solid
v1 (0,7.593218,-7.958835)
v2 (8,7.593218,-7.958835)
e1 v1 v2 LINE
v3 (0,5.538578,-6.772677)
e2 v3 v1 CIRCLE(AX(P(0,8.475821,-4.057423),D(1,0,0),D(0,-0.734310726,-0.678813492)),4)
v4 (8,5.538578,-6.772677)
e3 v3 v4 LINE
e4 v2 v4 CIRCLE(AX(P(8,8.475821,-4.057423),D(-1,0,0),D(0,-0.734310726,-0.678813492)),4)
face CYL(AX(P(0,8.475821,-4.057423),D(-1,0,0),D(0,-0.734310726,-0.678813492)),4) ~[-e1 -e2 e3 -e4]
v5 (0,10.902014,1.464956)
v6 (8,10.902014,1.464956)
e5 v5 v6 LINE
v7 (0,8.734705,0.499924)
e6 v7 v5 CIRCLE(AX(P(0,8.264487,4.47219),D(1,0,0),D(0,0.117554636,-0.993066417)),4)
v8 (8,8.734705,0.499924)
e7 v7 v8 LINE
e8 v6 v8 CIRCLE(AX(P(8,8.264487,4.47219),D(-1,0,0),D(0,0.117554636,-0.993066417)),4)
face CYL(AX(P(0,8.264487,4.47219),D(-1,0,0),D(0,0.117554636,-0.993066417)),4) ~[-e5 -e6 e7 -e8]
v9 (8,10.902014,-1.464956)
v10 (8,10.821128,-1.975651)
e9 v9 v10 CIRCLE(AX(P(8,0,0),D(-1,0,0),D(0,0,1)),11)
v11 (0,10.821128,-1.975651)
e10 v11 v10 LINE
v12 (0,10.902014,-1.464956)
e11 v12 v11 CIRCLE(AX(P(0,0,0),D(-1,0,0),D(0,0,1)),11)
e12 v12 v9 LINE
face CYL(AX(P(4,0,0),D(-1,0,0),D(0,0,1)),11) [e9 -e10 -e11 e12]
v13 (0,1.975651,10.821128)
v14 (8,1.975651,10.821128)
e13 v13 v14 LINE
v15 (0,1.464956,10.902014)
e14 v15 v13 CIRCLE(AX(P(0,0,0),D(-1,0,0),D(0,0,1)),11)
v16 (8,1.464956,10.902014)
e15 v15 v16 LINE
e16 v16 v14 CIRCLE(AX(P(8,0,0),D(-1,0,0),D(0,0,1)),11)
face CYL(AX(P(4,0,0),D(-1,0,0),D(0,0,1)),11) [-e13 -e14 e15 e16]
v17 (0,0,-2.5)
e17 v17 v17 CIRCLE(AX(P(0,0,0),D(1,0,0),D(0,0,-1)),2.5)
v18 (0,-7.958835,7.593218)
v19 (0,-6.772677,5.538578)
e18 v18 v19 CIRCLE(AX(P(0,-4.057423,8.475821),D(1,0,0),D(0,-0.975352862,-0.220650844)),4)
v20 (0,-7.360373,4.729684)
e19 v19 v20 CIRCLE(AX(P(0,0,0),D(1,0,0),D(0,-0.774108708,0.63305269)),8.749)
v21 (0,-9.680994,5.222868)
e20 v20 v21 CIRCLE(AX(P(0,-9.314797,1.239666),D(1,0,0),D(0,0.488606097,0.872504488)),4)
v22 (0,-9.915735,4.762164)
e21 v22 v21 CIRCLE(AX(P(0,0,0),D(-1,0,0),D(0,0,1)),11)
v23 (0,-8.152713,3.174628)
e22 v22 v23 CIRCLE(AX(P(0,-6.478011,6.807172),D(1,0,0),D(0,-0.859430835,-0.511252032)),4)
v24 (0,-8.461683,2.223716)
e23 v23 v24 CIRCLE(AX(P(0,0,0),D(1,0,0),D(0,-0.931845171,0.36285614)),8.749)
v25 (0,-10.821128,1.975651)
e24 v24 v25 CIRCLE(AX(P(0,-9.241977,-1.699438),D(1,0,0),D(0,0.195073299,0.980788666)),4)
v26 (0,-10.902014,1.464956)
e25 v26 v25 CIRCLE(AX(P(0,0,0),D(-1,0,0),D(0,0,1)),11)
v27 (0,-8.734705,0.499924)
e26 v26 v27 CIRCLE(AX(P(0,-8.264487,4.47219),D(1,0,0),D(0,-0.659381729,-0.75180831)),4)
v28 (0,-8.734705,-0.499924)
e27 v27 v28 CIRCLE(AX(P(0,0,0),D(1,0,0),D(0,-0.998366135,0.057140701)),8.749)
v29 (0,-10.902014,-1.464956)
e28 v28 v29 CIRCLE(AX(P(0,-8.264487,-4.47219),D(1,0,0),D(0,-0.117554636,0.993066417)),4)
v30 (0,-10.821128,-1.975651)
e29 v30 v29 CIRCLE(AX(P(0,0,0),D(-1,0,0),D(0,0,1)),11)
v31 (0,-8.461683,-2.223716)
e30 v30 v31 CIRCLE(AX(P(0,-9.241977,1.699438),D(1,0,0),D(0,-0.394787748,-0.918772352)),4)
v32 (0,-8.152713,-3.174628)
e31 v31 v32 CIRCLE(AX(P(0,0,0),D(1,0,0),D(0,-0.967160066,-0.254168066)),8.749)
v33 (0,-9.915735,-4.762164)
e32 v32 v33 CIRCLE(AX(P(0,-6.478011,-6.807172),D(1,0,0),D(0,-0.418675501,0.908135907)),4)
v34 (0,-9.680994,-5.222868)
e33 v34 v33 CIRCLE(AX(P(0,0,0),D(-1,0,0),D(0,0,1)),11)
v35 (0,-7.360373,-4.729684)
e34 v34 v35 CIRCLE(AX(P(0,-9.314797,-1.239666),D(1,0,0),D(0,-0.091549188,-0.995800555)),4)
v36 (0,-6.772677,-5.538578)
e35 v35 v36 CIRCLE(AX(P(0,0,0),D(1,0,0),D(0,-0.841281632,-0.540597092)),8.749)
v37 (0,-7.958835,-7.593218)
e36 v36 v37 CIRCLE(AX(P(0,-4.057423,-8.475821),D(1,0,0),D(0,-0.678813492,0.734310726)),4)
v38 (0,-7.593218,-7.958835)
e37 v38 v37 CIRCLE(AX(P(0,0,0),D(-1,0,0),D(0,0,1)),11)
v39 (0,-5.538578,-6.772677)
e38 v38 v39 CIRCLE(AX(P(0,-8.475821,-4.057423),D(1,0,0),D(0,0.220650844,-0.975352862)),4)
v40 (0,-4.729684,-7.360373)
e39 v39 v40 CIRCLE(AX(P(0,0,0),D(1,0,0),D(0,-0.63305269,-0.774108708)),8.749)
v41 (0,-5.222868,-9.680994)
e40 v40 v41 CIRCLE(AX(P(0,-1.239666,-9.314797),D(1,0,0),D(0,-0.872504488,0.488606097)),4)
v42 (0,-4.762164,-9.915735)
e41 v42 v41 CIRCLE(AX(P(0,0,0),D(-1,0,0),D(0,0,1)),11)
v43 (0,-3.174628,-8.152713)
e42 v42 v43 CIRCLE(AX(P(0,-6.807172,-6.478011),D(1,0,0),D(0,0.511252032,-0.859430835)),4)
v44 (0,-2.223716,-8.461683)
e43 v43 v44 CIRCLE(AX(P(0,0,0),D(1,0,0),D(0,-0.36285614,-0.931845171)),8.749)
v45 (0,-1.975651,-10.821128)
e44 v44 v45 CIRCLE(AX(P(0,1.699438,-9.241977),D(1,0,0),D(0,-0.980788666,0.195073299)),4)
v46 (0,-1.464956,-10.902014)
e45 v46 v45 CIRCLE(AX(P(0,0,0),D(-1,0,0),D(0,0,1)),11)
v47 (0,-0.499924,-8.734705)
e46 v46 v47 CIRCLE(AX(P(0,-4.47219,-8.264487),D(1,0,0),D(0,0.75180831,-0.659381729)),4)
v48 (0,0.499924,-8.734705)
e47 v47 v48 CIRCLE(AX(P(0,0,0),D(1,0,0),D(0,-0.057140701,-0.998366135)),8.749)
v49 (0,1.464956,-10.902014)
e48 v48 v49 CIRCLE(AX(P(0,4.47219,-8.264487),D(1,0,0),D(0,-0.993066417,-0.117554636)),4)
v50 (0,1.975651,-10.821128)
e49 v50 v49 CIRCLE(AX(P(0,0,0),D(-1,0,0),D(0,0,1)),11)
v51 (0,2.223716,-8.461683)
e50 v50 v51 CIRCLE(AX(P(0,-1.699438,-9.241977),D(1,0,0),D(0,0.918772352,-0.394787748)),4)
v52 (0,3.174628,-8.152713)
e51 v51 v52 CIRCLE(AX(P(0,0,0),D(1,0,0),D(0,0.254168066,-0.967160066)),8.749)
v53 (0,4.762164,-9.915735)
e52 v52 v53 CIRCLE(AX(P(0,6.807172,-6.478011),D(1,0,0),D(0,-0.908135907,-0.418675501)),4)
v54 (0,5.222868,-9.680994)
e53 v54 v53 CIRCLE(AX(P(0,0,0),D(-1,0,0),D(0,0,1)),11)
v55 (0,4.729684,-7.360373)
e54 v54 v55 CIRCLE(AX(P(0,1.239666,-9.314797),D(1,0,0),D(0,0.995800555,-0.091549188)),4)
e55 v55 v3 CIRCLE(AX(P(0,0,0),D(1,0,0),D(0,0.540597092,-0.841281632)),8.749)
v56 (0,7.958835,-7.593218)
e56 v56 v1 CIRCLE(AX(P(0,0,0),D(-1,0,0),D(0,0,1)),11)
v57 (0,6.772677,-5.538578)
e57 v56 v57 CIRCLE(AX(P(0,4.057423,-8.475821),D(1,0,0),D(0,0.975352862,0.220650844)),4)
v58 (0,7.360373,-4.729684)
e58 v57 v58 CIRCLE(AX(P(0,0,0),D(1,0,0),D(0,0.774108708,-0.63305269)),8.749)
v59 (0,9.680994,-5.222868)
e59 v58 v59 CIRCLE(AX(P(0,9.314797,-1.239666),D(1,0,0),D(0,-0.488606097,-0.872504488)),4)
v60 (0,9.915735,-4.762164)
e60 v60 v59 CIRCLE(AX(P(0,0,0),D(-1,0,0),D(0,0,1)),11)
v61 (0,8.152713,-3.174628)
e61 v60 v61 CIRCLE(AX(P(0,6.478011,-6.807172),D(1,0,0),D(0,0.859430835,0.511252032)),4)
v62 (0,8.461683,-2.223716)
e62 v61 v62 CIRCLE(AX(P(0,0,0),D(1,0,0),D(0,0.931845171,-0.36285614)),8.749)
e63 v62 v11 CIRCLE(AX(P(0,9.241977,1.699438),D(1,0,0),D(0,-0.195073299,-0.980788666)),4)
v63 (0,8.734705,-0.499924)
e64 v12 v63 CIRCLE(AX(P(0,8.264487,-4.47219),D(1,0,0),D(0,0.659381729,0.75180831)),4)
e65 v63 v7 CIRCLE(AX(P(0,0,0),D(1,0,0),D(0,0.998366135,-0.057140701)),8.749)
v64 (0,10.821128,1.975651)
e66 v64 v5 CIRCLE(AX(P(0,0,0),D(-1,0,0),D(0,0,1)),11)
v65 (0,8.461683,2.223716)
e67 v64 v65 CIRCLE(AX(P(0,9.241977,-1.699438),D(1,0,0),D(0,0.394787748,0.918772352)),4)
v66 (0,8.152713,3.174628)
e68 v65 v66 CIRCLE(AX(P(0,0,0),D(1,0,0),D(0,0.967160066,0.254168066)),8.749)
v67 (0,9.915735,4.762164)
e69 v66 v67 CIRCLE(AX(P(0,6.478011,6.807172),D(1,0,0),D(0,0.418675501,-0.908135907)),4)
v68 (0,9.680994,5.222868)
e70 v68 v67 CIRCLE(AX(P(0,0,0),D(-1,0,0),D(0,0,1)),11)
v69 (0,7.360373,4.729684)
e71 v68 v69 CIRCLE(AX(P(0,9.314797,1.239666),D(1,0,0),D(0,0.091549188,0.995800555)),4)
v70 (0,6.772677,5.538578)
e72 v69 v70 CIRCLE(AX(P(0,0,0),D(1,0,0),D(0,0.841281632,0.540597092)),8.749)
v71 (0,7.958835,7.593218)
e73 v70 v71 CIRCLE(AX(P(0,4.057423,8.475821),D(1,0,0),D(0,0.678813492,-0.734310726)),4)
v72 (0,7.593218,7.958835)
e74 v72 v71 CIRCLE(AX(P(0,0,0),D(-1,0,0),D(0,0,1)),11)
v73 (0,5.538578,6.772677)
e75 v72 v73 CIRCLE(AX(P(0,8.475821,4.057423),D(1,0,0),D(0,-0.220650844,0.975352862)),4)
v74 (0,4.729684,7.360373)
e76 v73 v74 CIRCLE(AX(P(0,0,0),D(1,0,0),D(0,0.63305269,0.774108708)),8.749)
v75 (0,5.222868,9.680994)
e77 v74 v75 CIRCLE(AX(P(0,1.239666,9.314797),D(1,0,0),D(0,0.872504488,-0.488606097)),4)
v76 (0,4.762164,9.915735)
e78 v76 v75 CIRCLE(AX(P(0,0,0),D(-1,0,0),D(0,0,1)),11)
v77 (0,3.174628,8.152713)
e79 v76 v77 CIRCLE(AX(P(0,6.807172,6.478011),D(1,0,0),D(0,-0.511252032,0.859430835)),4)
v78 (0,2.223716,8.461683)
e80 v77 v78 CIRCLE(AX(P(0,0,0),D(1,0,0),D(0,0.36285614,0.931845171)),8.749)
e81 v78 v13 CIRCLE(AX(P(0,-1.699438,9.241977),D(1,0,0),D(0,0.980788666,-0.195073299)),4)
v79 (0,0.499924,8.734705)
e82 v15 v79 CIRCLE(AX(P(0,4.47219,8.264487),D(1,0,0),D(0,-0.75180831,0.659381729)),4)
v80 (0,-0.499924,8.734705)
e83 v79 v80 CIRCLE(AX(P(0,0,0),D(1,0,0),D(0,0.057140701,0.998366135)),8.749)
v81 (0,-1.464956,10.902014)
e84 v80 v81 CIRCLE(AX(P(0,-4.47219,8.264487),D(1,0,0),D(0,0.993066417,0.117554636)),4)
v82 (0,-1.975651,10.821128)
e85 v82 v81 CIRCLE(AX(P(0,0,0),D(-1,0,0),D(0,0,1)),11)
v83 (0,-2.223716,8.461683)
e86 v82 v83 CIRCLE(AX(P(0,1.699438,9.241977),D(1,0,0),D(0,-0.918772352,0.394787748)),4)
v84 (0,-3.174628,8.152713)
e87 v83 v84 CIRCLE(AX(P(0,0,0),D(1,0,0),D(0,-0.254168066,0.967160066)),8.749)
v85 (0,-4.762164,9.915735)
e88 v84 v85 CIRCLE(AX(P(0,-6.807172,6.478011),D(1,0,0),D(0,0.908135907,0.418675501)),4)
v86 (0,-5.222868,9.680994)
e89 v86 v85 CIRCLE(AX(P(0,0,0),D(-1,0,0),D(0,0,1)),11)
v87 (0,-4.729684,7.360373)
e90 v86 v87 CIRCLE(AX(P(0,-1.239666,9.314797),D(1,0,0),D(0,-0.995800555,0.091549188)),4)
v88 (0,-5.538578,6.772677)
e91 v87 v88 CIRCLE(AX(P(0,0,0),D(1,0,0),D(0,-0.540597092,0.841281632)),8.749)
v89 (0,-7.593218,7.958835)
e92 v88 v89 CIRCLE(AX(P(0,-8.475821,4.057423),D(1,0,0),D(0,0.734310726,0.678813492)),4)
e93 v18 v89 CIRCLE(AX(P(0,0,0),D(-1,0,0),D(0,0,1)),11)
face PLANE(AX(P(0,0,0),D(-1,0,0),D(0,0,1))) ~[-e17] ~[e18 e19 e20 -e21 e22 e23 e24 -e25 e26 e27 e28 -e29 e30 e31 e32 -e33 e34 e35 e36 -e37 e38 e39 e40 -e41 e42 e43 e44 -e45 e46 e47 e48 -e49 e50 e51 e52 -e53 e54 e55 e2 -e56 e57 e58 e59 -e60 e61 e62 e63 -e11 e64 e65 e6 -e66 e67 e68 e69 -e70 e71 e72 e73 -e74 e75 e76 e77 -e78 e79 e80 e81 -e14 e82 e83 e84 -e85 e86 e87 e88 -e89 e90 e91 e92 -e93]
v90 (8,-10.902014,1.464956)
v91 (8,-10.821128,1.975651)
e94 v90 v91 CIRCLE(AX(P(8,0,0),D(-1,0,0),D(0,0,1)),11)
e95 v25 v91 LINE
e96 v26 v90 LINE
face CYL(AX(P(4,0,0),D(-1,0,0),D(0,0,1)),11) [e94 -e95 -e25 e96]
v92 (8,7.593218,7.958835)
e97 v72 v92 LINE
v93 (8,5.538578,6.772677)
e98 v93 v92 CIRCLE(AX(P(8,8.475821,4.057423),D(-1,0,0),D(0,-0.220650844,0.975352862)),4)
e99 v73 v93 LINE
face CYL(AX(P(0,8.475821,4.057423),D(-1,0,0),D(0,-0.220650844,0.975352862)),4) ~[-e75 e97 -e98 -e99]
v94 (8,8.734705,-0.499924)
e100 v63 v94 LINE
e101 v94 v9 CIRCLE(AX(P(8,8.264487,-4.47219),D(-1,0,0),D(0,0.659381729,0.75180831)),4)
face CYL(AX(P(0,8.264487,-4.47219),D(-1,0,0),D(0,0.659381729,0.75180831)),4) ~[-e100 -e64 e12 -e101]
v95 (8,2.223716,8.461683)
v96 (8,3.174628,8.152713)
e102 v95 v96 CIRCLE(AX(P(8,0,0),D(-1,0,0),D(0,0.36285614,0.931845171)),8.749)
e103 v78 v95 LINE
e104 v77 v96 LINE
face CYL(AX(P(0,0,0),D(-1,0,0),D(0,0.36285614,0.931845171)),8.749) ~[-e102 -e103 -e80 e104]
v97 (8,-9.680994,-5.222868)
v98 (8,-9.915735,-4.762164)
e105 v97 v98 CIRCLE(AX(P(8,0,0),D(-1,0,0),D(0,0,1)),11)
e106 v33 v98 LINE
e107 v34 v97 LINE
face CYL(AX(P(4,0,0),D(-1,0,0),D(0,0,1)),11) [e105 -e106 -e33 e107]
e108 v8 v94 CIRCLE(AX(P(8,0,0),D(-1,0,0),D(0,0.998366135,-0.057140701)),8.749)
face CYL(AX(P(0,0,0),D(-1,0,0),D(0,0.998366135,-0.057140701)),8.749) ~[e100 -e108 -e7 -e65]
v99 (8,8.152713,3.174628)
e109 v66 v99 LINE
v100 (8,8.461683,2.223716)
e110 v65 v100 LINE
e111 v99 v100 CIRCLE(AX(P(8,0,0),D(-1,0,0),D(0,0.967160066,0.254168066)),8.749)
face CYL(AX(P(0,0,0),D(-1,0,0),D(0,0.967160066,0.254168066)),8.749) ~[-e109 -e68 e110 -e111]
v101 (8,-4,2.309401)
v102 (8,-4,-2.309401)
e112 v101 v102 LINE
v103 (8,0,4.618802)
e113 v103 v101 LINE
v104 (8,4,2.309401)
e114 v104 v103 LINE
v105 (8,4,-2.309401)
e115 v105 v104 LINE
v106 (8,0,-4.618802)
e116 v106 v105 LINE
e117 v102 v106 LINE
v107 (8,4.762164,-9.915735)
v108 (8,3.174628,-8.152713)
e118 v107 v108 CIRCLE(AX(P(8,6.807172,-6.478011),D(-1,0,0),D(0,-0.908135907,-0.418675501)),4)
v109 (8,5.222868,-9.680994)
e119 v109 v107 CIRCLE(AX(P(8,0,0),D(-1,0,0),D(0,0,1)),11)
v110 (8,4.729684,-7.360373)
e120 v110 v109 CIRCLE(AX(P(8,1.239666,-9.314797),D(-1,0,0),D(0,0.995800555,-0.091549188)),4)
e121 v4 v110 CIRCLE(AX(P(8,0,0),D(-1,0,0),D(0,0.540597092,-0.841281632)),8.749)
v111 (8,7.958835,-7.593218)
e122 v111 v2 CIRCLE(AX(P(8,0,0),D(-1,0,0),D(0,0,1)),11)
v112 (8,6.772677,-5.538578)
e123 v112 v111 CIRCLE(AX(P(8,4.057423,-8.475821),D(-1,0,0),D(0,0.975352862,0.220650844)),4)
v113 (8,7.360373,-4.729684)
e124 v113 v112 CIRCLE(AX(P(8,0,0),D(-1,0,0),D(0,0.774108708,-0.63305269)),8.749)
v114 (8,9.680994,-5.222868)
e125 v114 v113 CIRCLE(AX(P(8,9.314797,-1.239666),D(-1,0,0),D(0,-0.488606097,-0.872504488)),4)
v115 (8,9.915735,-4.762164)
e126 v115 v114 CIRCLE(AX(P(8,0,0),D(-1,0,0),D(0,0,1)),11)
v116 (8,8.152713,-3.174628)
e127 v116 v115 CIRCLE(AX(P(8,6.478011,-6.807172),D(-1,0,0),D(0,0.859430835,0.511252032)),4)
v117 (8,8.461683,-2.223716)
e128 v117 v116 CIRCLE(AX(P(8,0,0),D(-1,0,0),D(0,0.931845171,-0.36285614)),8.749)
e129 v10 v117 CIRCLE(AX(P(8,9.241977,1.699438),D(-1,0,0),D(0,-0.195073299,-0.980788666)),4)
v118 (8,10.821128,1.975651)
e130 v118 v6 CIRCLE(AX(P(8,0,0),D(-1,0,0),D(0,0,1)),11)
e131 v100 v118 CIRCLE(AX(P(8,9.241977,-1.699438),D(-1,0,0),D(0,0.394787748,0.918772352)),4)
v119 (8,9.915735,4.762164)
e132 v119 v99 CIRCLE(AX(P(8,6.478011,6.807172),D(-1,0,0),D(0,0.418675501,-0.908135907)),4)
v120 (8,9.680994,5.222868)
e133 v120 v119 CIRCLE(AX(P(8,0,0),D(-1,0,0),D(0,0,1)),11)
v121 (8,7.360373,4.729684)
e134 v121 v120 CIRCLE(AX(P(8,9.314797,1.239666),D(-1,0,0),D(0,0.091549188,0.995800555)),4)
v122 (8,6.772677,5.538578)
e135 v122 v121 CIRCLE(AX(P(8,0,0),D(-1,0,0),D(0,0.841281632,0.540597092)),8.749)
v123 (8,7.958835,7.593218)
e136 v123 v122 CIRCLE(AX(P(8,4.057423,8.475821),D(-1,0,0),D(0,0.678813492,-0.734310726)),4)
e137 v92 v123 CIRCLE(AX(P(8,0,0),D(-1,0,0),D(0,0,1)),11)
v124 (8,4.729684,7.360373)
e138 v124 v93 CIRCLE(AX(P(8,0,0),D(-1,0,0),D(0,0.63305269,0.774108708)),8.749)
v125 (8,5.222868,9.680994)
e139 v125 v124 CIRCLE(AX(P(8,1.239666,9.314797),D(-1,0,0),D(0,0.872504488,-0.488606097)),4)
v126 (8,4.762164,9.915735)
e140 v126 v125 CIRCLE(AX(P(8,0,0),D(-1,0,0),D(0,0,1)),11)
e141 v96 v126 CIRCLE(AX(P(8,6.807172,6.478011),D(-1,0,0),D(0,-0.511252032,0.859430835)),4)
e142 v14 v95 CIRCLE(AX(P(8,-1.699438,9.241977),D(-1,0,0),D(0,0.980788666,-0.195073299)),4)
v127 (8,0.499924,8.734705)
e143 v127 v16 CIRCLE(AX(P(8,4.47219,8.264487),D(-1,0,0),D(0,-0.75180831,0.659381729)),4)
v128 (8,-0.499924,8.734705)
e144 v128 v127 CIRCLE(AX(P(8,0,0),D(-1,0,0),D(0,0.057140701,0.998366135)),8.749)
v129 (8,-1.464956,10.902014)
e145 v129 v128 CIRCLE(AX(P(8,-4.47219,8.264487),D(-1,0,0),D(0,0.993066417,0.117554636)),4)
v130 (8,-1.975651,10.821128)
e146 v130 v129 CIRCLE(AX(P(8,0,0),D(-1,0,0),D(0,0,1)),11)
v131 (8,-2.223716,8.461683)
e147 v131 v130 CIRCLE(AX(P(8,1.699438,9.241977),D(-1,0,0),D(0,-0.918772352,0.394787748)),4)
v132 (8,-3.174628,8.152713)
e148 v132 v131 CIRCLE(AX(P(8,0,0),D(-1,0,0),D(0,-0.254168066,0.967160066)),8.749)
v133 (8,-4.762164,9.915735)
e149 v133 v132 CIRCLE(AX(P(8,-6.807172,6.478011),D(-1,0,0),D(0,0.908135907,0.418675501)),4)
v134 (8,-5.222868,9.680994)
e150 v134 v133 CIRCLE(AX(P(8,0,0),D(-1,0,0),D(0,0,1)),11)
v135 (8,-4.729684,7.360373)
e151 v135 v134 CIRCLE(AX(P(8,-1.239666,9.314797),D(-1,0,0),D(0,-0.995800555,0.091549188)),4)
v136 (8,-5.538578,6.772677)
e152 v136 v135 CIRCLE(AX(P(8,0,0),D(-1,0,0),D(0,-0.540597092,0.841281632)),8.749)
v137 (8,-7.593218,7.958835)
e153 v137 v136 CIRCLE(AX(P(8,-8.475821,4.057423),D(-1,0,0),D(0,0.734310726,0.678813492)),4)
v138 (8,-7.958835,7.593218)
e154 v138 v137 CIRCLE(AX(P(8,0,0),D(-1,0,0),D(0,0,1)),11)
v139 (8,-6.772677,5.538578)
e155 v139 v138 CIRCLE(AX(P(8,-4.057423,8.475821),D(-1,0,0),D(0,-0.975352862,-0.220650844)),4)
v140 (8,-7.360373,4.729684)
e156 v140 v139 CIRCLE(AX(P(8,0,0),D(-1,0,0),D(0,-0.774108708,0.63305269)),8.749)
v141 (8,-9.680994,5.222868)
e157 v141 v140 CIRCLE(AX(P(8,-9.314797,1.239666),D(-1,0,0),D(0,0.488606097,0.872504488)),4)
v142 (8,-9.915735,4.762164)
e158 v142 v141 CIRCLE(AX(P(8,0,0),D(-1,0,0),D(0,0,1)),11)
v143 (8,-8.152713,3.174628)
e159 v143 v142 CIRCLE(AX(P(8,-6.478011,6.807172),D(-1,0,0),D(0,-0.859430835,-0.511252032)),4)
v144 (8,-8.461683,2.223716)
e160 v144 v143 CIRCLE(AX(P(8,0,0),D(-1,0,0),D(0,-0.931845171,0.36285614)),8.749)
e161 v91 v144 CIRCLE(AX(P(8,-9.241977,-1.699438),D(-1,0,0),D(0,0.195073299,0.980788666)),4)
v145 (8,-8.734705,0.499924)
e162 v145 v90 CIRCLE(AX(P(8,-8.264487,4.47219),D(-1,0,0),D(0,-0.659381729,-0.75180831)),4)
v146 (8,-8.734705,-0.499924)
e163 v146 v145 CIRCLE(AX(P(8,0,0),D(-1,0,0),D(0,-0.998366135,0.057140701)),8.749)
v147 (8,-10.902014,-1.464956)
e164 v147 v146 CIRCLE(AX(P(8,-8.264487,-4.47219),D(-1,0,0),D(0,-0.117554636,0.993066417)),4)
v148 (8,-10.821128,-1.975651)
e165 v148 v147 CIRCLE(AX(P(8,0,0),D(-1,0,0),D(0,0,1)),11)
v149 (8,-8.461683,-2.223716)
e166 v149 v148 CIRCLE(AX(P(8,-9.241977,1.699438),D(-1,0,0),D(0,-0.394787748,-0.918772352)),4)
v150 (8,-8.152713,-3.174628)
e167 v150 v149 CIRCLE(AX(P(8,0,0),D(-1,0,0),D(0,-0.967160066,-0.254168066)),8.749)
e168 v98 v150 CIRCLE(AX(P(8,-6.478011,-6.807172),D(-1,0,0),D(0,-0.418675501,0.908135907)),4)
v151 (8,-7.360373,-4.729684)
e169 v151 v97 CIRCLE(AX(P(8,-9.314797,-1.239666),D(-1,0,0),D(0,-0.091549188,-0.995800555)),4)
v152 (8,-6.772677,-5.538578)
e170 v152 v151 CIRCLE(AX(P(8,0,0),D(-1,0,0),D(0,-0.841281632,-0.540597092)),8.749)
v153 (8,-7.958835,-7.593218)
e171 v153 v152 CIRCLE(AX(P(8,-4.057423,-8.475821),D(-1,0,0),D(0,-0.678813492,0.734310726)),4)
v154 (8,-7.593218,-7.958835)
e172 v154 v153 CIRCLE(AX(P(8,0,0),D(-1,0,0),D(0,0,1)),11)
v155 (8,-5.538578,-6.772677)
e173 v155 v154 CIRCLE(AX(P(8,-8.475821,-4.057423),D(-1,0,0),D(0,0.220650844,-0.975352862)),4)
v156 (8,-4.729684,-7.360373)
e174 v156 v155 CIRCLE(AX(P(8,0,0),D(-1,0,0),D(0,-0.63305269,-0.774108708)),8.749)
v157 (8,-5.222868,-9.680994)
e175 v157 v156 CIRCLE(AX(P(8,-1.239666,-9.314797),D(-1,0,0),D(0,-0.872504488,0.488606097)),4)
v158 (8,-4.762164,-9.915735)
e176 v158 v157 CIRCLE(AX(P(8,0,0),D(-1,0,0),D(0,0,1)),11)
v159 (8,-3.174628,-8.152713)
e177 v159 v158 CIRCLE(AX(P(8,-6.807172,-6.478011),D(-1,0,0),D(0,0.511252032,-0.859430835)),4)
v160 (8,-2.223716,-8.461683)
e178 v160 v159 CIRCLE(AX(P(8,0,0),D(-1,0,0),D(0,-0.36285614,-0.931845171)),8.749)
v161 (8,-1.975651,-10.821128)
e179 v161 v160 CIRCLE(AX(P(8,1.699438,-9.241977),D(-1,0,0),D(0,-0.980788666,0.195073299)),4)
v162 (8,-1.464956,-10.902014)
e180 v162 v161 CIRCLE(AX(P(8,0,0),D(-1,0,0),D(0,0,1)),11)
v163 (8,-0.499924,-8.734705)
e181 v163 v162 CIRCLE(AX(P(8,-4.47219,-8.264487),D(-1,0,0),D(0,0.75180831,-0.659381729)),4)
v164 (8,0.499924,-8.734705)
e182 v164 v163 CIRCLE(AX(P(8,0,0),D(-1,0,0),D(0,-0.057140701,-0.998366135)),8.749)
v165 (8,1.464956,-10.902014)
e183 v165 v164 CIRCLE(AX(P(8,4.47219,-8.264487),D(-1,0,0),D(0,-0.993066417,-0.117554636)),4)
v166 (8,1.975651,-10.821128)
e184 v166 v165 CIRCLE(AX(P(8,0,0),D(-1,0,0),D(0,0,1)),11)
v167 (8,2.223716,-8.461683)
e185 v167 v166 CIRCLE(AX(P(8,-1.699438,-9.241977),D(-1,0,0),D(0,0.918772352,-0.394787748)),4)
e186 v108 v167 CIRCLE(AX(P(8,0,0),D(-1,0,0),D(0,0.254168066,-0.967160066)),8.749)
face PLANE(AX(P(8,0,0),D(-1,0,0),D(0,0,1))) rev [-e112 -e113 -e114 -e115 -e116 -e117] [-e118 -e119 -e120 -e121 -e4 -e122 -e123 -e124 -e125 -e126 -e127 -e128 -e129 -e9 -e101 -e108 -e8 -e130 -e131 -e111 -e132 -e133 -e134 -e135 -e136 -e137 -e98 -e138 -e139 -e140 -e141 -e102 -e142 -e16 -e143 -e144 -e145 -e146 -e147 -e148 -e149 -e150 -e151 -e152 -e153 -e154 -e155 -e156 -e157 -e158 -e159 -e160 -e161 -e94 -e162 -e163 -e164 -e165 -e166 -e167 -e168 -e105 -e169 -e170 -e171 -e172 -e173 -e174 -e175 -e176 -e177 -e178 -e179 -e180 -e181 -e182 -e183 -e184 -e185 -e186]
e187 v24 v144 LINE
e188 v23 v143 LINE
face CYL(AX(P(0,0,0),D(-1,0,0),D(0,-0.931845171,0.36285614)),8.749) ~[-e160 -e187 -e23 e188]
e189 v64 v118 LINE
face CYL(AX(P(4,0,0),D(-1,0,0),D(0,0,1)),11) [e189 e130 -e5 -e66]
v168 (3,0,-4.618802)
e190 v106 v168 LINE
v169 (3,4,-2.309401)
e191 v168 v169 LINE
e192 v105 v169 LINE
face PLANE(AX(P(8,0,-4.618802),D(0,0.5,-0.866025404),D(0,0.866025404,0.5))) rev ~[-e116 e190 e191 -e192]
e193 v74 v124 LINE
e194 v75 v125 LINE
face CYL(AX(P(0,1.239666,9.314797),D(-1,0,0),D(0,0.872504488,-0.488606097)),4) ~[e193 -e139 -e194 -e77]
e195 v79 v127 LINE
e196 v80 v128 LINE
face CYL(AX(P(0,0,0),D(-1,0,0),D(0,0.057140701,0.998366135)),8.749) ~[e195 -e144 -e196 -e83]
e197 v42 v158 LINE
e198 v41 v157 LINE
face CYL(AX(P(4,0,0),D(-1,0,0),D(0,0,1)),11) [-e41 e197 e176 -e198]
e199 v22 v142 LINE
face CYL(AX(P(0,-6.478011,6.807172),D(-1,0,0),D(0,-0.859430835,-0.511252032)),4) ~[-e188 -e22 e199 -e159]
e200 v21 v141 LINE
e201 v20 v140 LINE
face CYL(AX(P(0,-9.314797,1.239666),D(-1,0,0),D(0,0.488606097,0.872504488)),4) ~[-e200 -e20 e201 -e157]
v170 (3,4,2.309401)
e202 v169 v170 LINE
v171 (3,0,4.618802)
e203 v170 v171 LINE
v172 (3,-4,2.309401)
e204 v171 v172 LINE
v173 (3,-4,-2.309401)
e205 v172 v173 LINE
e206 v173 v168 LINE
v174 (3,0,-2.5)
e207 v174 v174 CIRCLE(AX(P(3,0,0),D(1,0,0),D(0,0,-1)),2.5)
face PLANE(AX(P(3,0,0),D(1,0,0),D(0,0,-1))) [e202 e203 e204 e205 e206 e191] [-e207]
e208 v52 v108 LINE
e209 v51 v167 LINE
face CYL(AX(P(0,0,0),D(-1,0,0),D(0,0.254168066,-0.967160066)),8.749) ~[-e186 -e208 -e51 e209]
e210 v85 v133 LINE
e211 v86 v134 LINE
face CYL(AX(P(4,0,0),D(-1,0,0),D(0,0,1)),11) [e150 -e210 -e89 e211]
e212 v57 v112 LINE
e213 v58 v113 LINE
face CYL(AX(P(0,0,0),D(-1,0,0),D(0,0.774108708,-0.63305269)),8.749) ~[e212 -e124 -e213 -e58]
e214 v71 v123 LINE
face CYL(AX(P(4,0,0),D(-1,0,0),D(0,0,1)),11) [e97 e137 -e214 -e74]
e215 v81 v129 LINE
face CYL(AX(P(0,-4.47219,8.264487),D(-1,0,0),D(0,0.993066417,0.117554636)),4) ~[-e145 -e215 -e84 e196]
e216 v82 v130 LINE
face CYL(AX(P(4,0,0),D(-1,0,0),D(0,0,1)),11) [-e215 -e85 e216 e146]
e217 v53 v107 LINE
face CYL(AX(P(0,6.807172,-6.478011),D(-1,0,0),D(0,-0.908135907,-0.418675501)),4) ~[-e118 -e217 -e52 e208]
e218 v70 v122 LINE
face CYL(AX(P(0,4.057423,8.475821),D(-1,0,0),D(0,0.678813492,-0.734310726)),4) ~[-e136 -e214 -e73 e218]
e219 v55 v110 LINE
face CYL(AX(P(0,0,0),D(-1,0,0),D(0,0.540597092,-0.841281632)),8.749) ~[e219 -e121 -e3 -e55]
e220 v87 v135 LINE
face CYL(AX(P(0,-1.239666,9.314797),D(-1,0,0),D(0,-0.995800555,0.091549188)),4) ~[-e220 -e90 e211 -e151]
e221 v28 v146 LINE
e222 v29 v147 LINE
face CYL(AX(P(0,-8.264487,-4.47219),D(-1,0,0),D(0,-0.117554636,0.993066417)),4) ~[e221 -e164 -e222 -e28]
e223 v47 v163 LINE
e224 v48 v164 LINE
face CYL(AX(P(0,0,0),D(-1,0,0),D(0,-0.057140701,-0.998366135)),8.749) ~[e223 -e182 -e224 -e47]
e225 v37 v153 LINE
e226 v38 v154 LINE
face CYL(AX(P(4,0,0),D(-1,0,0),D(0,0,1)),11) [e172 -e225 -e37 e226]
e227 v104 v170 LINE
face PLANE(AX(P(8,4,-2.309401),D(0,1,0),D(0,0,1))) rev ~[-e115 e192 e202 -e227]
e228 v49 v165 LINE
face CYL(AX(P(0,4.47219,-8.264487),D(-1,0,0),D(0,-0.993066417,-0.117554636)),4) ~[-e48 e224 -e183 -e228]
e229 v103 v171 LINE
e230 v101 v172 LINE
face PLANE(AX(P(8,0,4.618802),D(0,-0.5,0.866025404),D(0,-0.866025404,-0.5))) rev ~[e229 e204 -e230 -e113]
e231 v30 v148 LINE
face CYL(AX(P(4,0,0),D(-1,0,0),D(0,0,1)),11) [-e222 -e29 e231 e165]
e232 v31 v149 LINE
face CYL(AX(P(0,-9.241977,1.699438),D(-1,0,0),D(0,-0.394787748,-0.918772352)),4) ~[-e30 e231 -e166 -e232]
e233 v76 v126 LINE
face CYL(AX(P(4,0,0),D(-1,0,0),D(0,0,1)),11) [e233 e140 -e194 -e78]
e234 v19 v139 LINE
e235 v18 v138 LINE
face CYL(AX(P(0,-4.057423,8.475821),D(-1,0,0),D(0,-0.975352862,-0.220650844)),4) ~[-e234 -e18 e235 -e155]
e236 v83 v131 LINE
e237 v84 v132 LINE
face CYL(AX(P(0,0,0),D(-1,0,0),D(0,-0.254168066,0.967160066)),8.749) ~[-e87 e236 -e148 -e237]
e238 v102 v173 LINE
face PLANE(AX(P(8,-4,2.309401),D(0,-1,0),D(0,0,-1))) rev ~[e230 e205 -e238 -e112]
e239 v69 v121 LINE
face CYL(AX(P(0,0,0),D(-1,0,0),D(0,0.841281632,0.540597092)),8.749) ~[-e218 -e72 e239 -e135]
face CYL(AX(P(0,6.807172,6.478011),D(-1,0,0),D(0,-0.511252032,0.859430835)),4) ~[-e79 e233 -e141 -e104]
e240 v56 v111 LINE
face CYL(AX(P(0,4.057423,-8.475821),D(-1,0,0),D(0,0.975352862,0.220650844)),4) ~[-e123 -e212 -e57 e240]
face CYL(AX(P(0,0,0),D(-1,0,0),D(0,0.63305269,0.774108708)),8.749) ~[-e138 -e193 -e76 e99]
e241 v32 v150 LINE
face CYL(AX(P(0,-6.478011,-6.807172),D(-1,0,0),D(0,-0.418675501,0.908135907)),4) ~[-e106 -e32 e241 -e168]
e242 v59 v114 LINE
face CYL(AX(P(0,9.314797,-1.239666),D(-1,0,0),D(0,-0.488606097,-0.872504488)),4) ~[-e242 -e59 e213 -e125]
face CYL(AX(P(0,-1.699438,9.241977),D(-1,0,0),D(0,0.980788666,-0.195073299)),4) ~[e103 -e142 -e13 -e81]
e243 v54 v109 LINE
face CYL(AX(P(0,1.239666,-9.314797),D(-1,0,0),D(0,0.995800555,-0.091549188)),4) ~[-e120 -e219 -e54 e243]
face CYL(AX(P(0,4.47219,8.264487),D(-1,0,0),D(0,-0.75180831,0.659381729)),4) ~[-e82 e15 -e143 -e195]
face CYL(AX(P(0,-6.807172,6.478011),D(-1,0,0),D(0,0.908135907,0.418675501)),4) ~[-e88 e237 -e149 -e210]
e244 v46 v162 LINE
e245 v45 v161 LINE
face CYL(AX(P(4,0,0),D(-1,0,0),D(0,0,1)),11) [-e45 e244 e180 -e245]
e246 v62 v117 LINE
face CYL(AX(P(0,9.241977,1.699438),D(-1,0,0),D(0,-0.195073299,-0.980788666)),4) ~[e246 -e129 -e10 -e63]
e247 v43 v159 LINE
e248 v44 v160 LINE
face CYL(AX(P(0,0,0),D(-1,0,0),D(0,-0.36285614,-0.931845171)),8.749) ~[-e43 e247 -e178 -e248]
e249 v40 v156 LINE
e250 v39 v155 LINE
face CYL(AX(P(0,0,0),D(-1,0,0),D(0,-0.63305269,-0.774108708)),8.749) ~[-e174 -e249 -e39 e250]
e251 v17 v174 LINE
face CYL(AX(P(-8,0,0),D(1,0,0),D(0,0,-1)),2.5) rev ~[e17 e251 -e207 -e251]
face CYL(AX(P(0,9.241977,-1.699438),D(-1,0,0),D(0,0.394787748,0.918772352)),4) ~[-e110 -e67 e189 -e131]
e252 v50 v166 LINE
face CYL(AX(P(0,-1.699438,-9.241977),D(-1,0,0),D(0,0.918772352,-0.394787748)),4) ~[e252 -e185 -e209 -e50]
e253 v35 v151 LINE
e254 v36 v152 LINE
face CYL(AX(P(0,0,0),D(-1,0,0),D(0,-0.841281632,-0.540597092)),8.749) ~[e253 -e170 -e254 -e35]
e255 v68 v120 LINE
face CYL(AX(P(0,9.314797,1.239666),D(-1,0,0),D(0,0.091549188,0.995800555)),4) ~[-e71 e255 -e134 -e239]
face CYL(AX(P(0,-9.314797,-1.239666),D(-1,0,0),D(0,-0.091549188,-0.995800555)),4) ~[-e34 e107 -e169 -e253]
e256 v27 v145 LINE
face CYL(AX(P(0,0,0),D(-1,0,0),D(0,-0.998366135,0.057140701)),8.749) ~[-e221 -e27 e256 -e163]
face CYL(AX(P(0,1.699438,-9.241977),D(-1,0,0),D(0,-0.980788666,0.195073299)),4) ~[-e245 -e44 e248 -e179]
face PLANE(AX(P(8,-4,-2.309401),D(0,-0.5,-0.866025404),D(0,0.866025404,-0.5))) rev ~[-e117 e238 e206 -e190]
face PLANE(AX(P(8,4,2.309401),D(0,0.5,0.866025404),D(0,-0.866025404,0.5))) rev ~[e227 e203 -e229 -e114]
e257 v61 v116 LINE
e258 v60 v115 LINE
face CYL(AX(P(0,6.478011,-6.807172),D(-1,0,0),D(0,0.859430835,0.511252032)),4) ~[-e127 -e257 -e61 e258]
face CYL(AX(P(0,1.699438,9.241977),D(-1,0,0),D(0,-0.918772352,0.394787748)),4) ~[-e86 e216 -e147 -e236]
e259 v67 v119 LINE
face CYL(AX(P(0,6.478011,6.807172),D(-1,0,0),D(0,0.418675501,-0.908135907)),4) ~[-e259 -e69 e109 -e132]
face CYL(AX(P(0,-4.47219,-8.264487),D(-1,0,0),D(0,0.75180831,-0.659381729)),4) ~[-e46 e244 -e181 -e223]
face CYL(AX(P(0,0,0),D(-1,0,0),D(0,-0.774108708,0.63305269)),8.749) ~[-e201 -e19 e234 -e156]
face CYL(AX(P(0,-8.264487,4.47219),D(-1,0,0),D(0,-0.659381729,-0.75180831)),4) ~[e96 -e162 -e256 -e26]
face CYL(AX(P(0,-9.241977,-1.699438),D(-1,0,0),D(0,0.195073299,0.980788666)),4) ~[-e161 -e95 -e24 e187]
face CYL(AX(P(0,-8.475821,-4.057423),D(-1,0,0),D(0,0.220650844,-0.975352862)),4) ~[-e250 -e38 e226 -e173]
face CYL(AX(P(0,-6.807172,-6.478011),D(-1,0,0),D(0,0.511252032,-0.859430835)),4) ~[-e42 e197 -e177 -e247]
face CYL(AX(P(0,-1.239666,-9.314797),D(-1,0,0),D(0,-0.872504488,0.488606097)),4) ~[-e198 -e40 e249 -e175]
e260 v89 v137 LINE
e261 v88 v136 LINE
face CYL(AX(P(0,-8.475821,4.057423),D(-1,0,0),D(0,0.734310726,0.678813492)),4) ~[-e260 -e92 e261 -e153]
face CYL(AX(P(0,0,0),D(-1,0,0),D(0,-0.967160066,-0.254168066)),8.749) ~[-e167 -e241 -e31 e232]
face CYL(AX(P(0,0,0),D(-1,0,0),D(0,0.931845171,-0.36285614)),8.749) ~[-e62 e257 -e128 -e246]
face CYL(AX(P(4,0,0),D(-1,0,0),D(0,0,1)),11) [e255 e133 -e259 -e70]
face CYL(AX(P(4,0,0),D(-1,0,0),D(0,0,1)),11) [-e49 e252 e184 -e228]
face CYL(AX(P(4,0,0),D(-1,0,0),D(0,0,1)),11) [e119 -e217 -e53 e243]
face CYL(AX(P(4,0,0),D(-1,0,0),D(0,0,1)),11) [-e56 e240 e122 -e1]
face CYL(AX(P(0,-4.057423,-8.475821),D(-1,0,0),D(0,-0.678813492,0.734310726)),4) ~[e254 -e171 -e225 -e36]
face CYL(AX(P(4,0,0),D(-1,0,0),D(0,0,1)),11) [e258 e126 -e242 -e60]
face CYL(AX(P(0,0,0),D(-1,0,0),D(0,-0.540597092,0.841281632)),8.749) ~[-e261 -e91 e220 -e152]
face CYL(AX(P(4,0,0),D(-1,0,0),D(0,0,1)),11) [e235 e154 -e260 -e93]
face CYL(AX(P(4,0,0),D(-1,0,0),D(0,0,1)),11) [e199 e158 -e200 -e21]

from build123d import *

# Parameters (mm, degrees)
SKETCH_1_W                = 8
SKETCH_1_H                = 11
CUT_EXTRUDE_1_DEPTH       = 18.492855685
CUT_EXTRUDE_2_DEPTH       = 18.492855685
CUT_EXTRUDE_3_DEPTH       = 18.492855685
CUT_EXTRUDE_4_DEPTH       = 18.492855685
CUT_EXTRUDE_5_DEPTH       = 18.492855685
CUT_EXTRUDE_6_DEPTH       = 18.492855685
CUT_EXTRUDE_7_DEPTH       = 18.492855685
CUT_EXTRUDE_8_DEPTH       = 18.492855685
CUT_EXTRUDE_9_DEPTH       = 18.492855685
CUT_EXTRUDE_10_DEPTH      = 18.492855685
CUT_EXTRUDE_11_DEPTH      = 18.492855685
CUT_EXTRUDE_12_DEPTH      = 18.431405642
CUT_EXTRUDE_13_DEPTH      = 18.431405642
CUT_EXTRUDE_14_DEPTH      = 18.431405642
CUT_EXTRUDE_15_DEPTH      = 18.431405642
CUT_EXTRUDE_16_DEPTH      = 18.431405642
CUT_EXTRUDE_17_DEPTH      = 18.369738204
CUT_EXTRUDE_18_DEPTH      = 18.369738204
CUT_EXTRUDE_19_DEPTH      = 18.369738204
CUT_EXTRUDE_20_DEPTH      = 18.369738204
CUT_EXTRUDE_21_DEPTH      = 5
HOLE_WIZARD_5_0_5_1_D     = 5
HOLE_WIZARD_5_0_5_1_DEPTH = 8


with BuildPart() as part:
    # 草圖1 → 旋轉1 (revolve)
    with BuildSketch(Plane(origin=(0, 0, 0), x_dir=(-1, 0, 0), z_dir=(0, 0, -1)), mode=Mode.PRIVATE) as revolve_1_sk:
        with Locations((-4, 5.5)):
            Rectangle(SKETCH_1_W, SKETCH_1_H)
    revolve(revolve_1_sk.sketch.rotate(Axis((8, 0, 0), (-1, 0, 0)), 270), axis=Axis((8, 0, 0), (-1, 0, 0)))

    # 草圖2 → 除料-伸長1 (cut, through all)
    with BuildSketch(Plane.ZY):
        with BuildLine():
            ThreePointArc((10.902013697, -1.464956435), (11, 0), (10.902013697, 1.464956435))
            ThreePointArc((10.902013697, 1.464956435), (9.891552344, 0.818060825), (8.734705318, 0.499924007))
            ThreePointArc((8.734705318, 0.499924007), (8.749, 0), (8.734705318, -0.499924007))
            ThreePointArc((8.734705318, -0.499924007), (9.891552344, -0.818060825), (10.902013697, -1.464956435))
        make_face()
    extrude(amount=-CUT_EXTRUDE_1_DEPTH, mode=Mode.SUBTRACT)

    # 草圖3 → 除料-伸長2 (cut, through all)
    with BuildSketch(Plane.ZY):
        with BuildLine():
            ThreePointArc((9.915734733, -4.762163869), (10.461621679, -3.399186938), (10.821127601, -1.975651141))
            ThreePointArc((10.821127601, -1.975651141), (9.66022001, -2.278635697), (8.461683425, -2.223716399))
            ThreePointArc((8.461683425, -2.223716399), (8.320793461, -2.703589684), (8.152713396, -3.174628369))
            ThreePointArc((8.152713396, -3.174628369), (9.154630615, -3.834679853), (9.915734733, -4.762163869))
        make_face()
    extrude(amount=-CUT_EXTRUDE_2_DEPTH, mode=Mode.SUBTRACT)

    # 草圖4 → 除料-伸長3 (cut, through all)
    with BuildSketch(Plane.ZY):
        with BuildLine():
            ThreePointArc((7.958834566, -7.593217523), (8.899186938, -6.465637775), (9.680994141, -5.222868219))
            ThreePointArc((9.680994141, -5.222868219), (8.483278035, -5.15228348), (7.360373002, -4.729683951))
            ThreePointArc((7.360373002, -4.729683951), (7.078089684, -5.142533172), (6.772677084, -5.538577987))
            ThreePointArc((6.772677084, -5.538577987), (7.521589858, -6.4759337), (7.958834566, -7.593217523))
        make_face()
    extrude(amount=-CUT_EXTRUDE_3_DEPTH, mode=Mode.SUBTRACT)

    # 草圖5 → 除料-伸長4 (cut, through all)
    with BuildSketch(Plane.ZY):
        with BuildLine():
            ThreePointArc((5.222868219, -9.680994141), (6.465637775, -8.899186938), (7.593217523, -7.958834566))
            ThreePointArc((7.593217523, -7.958834566), (6.4759337, -7.521589858), (5.538577987, -6.772677084))
            ThreePointArc((5.538577987, -6.772677084), (5.142533172, -7.078089684), (4.729683951, -7.360373002))
            ThreePointArc((4.729683951, -7.360373002), (5.15228348, -8.483278035), (5.222868219, -9.680994141))
        make_face()
    extrude(amount=-CUT_EXTRUDE_4_DEPTH, mode=Mode.SUBTRACT)

    # 草圖6 → 除料-伸長5 (cut, through all)
    with BuildSketch(Plane.ZY):
        with BuildLine():
            ThreePointArc((1.975651141, -10.821127601), (3.399186938, -10.461621679), (4.762163869, -9.915734733))
            ThreePointArc((4.762163869, -9.915734733), (3.834679853, -9.154630615), (3.174628369, -8.152713396))
            ThreePointArc((3.174628369, -8.152713396), (2.703589684, -8.320793461), (2.223716399, -8.461683425))
            ThreePointArc((2.223716399, -8.461683425), (2.278635697, -9.66022001), (1.975651141, -10.821127601))
        make_face()
    extrude(amount=-CUT_EXTRUDE_5_DEPTH, mode=Mode.SUBTRACT)

    # 草圖7 → 除料-伸長6 (cut, through all)
    with BuildSketch(Plane.ZY):
        with BuildLine():
            ThreePointArc((-1.464956435, -10.902013697), (0, -11), (1.464956435, -10.902013697))
            ThreePointArc((1.464956435, -10.902013697), (0.818060825, -9.891552344), (0.499924007, -8.734705318))
            ThreePointArc((0.499924007, -8.734705318), (0, -8.749), (-0.499924007, -8.734705318))
            ThreePointArc((-0.499924007, -8.734705318), (-0.818060825, -9.891552344), (-1.464956435, -10.902013697))
        make_face()
    extrude(amount=-CUT_EXTRUDE_6_DEPTH, mode=Mode.SUBTRACT)

    # 草圖8 → 除料-伸長7 (cut, through all)
    with BuildSketch(Plane.ZY):
        with BuildLine():
            ThreePointArc((-4.762163869, -9.915734733), (-3.399186938, -10.461621679), (-1.975651141, -10.821127601))
            ThreePointArc((-1.975651141, -10.821127601), (-2.278635697, -9.66022001), (-2.223716399, -8.461683425))
            ThreePointArc((-2.223716399, -8.461683425), (-2.703589684, -8.320793461), (-3.174628369, -8.152713396))
            ThreePointArc((-3.174628369, -8.152713396), (-3.834679853, -9.154630615), (-4.762163869, -9.915734733))
        make_face()
    extrude(amount=-CUT_EXTRUDE_7_DEPTH, mode=Mode.SUBTRACT)

    # 草圖9 → 除料-伸長8 (cut, through all)
    with BuildSketch(Plane.ZY):
        with BuildLine():
            ThreePointArc((-7.593217523, -7.958834566), (-6.465637775, -8.899186938), (-5.222868219, -9.680994141))
            ThreePointArc((-5.222868219, -9.680994141), (-5.15228348, -8.483278035), (-4.729683951, -7.360373002))
            ThreePointArc((-4.729683951, -7.360373002), (-5.142533172, -7.078089684), (-5.538577987, -6.772677084))
            ThreePointArc((-5.538577987, -6.772677084), (-6.4759337, -7.521589858), (-7.593217523, -7.958834566))
        make_face()
    extrude(amount=-CUT_EXTRUDE_8_DEPTH, mode=Mode.SUBTRACT)

    # 草圖10 → 除料-伸長9 (cut, through all)
    with BuildSketch(Plane.ZY):
        with BuildLine():
            ThreePointArc((-9.680994141, -5.222868219), (-8.899186938, -6.465637775), (-7.958834566, -7.593217523))
            ThreePointArc((-7.958834566, -7.593217523), (-7.521589858, -6.4759337), (-6.772677084, -5.538577987))
            ThreePointArc((-6.772677084, -5.538577987), (-7.078089684, -5.142533172), (-7.360373002, -4.729683951))
            ThreePointArc((-7.360373002, -4.729683951), (-8.483278035, -5.15228348), (-9.680994141, -5.222868219))
        make_face()
    extrude(amount=-CUT_EXTRUDE_9_DEPTH, mode=Mode.SUBTRACT)

    # 草圖11 → 除料-伸長10 (cut, through all)
    with BuildSketch(Plane.ZY):
        with BuildLine():
            ThreePointArc((-10.821127601, -1.975651141), (-10.461621679, -3.399186938), (-9.915734733, -4.762163869))
            ThreePointArc((-9.915734733, -4.762163869), (-9.154630615, -3.834679853), (-8.152713396, -3.174628369))
            ThreePointArc((-8.152713396, -3.174628369), (-8.320793461, -2.703589684), (-8.461683425, -2.223716399))
            ThreePointArc((-8.461683425, -2.223716399), (-9.66022001, -2.278635697), (-10.821127601, -1.975651141))
        make_face()
    extrude(amount=-CUT_EXTRUDE_10_DEPTH, mode=Mode.SUBTRACT)

    # 草圖12 → 除料-伸長11 (cut, through all)
    with BuildSketch(Plane.ZY):
        with BuildLine():
            ThreePointArc((-10.902013697, 1.464956435), (-11, 0), (-10.902013697, -1.464956435))
            ThreePointArc((-10.902013697, -1.464956435), (-9.891552344, -0.818060825), (-8.734705318, -0.499924007))
            ThreePointArc((-8.734705318, -0.499924007), (-8.749, 0), (-8.734705318, 0.499924007))
            ThreePointArc((-8.734705318, 0.499924007), (-9.891552344, 0.818060825), (-10.902013697, 1.464956435))
        make_face()
    extrude(amount=-CUT_EXTRUDE_11_DEPTH, mode=Mode.SUBTRACT)

    # 草圖13 → 除料-伸長12 (cut, through all)
    with BuildSketch(Plane.ZY):
        with BuildLine():
            ThreePointArc((-9.915734733, 4.762163869), (-10.461621679, 3.399186938), (-10.821127601, 1.975651141))
            ThreePointArc((-10.821127601, 1.975651141), (-9.66022001, 2.278635697), (-8.461683425, 2.223716399))
            ThreePointArc((-8.461683425, 2.223716399), (-8.320793461, 2.703589684), (-8.152713396, 3.174628369))
            ThreePointArc((-8.152713396, 3.174628369), (-9.154630615, 3.834679853), (-9.915734733, 4.762163869))
        make_face()
    extrude(amount=-CUT_EXTRUDE_12_DEPTH, mode=Mode.SUBTRACT)

    # 草圖14 → 除料-伸長13 (cut, through all)
    with BuildSketch(Plane.ZY):
        with BuildLine():
            ThreePointArc((-7.958834566, 7.593217523), (-8.899186938, 6.465637775), (-9.680994141, 5.222868219))
            ThreePointArc((-9.680994141, 5.222868219), (-8.483278035, 5.15228348), (-7.360373002, 4.729683951))
            ThreePointArc((-7.360373002, 4.729683951), (-7.078089684, 5.142533172), (-6.772677084, 5.538577987))
            ThreePointArc((-6.772677084, 5.538577987), (-7.521589858, 6.4759337), (-7.958834566, 7.593217523))
        make_face()
    extrude(amount=-CUT_EXTRUDE_13_DEPTH, mode=Mode.SUBTRACT)

    # 草圖15 → 除料-伸長14 (cut, through all)
    with BuildSketch(Plane.ZY):
        with BuildLine():
            ThreePointArc((-5.222868219, 9.680994141), (-6.465637775, 8.899186938), (-7.593217523, 7.958834566))
            ThreePointArc((-7.593217523, 7.958834566), (-6.4759337, 7.521589858), (-5.538577987, 6.772677084))
            ThreePointArc((-5.538577987, 6.772677084), (-5.142533172, 7.078089684), (-4.729683951, 7.360373002))
            ThreePointArc((-4.729683951, 7.360373002), (-5.15228348, 8.483278035), (-5.222868219, 9.680994141))
        make_face()
    extrude(amount=-CUT_EXTRUDE_14_DEPTH, mode=Mode.SUBTRACT)

    # 草圖16 → 除料-伸長15 (cut, through all)
    with BuildSketch(Plane.ZY):
        with BuildLine():
            ThreePointArc((-1.975651141, 10.821127601), (-3.399186938, 10.461621679), (-4.762163869, 9.915734733))
            ThreePointArc((-4.762163869, 9.915734733), (-3.834679853, 9.154630615), (-3.174628369, 8.152713396))
            ThreePointArc((-3.174628369, 8.152713396), (-2.703589684, 8.320793461), (-2.223716399, 8.461683425))
            ThreePointArc((-2.223716399, 8.461683425), (-2.278635697, 9.66022001), (-1.975651141, 10.821127601))
        make_face()
    extrude(amount=-CUT_EXTRUDE_15_DEPTH, mode=Mode.SUBTRACT)

    # 草圖17 → 除料-伸長16 (cut, through all)
    with BuildSketch(Plane.ZY):
        with BuildLine():
            ThreePointArc((1.464956435, 10.902013697), (0, 11), (-1.464956435, 10.902013697))
            ThreePointArc((-1.464956435, 10.902013697), (-0.818060825, 9.891552344), (-0.499924007, 8.734705318))
            ThreePointArc((-0.499924007, 8.734705318), (0, 8.749), (0.499924007, 8.734705318))
            ThreePointArc((0.499924007, 8.734705318), (0.818060825, 9.891552344), (1.464956435, 10.902013697))
        make_face()
    extrude(amount=-CUT_EXTRUDE_16_DEPTH, mode=Mode.SUBTRACT)

    # 草圖18 → 除料-伸長17 (cut, through all)
    with BuildSketch(Plane.ZY):
        with BuildLine():
            ThreePointArc((4.762163869, 9.915734733), (3.399186938, 10.461621679), (1.975651141, 10.821127601))
            ThreePointArc((1.975651141, 10.821127601), (2.278635697, 9.66022001), (2.223716399, 8.461683425))
            ThreePointArc((2.223716399, 8.461683425), (2.703589684, 8.320793461), (3.174628369, 8.152713396))
            ThreePointArc((3.174628369, 8.152713396), (3.834679853, 9.154630615), (4.762163869, 9.915734733))
        make_face()
    extrude(amount=-CUT_EXTRUDE_17_DEPTH, mode=Mode.SUBTRACT)

    # 草圖19 → 除料-伸長18 (cut, through all)
    with BuildSketch(Plane.ZY):
        with BuildLine():
            ThreePointArc((7.593217523, 7.958834566), (6.465637775, 8.899186938), (5.222868219, 9.680994141))
            ThreePointArc((5.222868219, 9.680994141), (5.15228348, 8.483278035), (4.729683951, 7.360373002))
            ThreePointArc((4.729683951, 7.360373002), (5.142533172, 7.078089684), (5.538577987, 6.772677084))
            ThreePointArc((5.538577987, 6.772677084), (6.4759337, 7.521589858), (7.593217523, 7.958834566))
        make_face()
    extrude(amount=-CUT_EXTRUDE_18_DEPTH, mode=Mode.SUBTRACT)

    # 草圖20 → 除料-伸長19 (cut, through all)
    with BuildSketch(Plane.ZY):
        with BuildLine():
            ThreePointArc((9.680994141, 5.222868219), (8.899186938, 6.465637775), (7.958834566, 7.593217523))
            ThreePointArc((7.958834566, 7.593217523), (7.521589858, 6.4759337), (6.772677084, 5.538577987))
            ThreePointArc((6.772677084, 5.538577987), (7.078089684, 5.142533172), (7.360373002, 4.729683951))
            ThreePointArc((7.360373002, 4.729683951), (8.483278035, 5.15228348), (9.680994141, 5.222868219))
        make_face()
    extrude(amount=-CUT_EXTRUDE_19_DEPTH, mode=Mode.SUBTRACT)

    # 草圖21 → 除料-伸長20 (cut, through all)
    with BuildSketch(Plane.ZY):
        with BuildLine():
            ThreePointArc((10.821127601, 1.975651141), (10.461621679, 3.399186938), (9.915734733, 4.762163869))
            ThreePointArc((9.915734733, 4.762163869), (9.154630615, 3.834679853), (8.152713396, 3.174628369))
            ThreePointArc((8.152713396, 3.174628369), (8.320793461, 2.703589684), (8.461683425, 2.223716399))
            ThreePointArc((8.461683425, 2.223716399), (9.66022001, 2.278635697), (10.821127601, 1.975651141))
        make_face()
    extrude(amount=-CUT_EXTRUDE_20_DEPTH, mode=Mode.SUBTRACT)

    # 草圖22 → 除料-伸長21 (cut)
    with BuildSketch(Plane(origin=(8, 0, 0), x_dir=(0, 0, -1), z_dir=(1, 0, 0))):
        Polygon((-4.618802154, 0), (-2.309401077, -4), (2.309401077, -4), (4.618802154, 0), (2.309401077, 4), (-2.309401077, 4), align=None)
    extrude(amount=-CUT_EXTRUDE_21_DEPTH, mode=Mode.SUBTRACT)

    # Ø5.0 (5) 直徑孔1
    with Locations(Plane.ZY):
        with Locations((0, 0)):
            Hole(HOLE_WIZARD_5_0_5_1_D / 2, depth=HOLE_WIZARD_5_0_5_1_DEPTH)


solid = part.part
